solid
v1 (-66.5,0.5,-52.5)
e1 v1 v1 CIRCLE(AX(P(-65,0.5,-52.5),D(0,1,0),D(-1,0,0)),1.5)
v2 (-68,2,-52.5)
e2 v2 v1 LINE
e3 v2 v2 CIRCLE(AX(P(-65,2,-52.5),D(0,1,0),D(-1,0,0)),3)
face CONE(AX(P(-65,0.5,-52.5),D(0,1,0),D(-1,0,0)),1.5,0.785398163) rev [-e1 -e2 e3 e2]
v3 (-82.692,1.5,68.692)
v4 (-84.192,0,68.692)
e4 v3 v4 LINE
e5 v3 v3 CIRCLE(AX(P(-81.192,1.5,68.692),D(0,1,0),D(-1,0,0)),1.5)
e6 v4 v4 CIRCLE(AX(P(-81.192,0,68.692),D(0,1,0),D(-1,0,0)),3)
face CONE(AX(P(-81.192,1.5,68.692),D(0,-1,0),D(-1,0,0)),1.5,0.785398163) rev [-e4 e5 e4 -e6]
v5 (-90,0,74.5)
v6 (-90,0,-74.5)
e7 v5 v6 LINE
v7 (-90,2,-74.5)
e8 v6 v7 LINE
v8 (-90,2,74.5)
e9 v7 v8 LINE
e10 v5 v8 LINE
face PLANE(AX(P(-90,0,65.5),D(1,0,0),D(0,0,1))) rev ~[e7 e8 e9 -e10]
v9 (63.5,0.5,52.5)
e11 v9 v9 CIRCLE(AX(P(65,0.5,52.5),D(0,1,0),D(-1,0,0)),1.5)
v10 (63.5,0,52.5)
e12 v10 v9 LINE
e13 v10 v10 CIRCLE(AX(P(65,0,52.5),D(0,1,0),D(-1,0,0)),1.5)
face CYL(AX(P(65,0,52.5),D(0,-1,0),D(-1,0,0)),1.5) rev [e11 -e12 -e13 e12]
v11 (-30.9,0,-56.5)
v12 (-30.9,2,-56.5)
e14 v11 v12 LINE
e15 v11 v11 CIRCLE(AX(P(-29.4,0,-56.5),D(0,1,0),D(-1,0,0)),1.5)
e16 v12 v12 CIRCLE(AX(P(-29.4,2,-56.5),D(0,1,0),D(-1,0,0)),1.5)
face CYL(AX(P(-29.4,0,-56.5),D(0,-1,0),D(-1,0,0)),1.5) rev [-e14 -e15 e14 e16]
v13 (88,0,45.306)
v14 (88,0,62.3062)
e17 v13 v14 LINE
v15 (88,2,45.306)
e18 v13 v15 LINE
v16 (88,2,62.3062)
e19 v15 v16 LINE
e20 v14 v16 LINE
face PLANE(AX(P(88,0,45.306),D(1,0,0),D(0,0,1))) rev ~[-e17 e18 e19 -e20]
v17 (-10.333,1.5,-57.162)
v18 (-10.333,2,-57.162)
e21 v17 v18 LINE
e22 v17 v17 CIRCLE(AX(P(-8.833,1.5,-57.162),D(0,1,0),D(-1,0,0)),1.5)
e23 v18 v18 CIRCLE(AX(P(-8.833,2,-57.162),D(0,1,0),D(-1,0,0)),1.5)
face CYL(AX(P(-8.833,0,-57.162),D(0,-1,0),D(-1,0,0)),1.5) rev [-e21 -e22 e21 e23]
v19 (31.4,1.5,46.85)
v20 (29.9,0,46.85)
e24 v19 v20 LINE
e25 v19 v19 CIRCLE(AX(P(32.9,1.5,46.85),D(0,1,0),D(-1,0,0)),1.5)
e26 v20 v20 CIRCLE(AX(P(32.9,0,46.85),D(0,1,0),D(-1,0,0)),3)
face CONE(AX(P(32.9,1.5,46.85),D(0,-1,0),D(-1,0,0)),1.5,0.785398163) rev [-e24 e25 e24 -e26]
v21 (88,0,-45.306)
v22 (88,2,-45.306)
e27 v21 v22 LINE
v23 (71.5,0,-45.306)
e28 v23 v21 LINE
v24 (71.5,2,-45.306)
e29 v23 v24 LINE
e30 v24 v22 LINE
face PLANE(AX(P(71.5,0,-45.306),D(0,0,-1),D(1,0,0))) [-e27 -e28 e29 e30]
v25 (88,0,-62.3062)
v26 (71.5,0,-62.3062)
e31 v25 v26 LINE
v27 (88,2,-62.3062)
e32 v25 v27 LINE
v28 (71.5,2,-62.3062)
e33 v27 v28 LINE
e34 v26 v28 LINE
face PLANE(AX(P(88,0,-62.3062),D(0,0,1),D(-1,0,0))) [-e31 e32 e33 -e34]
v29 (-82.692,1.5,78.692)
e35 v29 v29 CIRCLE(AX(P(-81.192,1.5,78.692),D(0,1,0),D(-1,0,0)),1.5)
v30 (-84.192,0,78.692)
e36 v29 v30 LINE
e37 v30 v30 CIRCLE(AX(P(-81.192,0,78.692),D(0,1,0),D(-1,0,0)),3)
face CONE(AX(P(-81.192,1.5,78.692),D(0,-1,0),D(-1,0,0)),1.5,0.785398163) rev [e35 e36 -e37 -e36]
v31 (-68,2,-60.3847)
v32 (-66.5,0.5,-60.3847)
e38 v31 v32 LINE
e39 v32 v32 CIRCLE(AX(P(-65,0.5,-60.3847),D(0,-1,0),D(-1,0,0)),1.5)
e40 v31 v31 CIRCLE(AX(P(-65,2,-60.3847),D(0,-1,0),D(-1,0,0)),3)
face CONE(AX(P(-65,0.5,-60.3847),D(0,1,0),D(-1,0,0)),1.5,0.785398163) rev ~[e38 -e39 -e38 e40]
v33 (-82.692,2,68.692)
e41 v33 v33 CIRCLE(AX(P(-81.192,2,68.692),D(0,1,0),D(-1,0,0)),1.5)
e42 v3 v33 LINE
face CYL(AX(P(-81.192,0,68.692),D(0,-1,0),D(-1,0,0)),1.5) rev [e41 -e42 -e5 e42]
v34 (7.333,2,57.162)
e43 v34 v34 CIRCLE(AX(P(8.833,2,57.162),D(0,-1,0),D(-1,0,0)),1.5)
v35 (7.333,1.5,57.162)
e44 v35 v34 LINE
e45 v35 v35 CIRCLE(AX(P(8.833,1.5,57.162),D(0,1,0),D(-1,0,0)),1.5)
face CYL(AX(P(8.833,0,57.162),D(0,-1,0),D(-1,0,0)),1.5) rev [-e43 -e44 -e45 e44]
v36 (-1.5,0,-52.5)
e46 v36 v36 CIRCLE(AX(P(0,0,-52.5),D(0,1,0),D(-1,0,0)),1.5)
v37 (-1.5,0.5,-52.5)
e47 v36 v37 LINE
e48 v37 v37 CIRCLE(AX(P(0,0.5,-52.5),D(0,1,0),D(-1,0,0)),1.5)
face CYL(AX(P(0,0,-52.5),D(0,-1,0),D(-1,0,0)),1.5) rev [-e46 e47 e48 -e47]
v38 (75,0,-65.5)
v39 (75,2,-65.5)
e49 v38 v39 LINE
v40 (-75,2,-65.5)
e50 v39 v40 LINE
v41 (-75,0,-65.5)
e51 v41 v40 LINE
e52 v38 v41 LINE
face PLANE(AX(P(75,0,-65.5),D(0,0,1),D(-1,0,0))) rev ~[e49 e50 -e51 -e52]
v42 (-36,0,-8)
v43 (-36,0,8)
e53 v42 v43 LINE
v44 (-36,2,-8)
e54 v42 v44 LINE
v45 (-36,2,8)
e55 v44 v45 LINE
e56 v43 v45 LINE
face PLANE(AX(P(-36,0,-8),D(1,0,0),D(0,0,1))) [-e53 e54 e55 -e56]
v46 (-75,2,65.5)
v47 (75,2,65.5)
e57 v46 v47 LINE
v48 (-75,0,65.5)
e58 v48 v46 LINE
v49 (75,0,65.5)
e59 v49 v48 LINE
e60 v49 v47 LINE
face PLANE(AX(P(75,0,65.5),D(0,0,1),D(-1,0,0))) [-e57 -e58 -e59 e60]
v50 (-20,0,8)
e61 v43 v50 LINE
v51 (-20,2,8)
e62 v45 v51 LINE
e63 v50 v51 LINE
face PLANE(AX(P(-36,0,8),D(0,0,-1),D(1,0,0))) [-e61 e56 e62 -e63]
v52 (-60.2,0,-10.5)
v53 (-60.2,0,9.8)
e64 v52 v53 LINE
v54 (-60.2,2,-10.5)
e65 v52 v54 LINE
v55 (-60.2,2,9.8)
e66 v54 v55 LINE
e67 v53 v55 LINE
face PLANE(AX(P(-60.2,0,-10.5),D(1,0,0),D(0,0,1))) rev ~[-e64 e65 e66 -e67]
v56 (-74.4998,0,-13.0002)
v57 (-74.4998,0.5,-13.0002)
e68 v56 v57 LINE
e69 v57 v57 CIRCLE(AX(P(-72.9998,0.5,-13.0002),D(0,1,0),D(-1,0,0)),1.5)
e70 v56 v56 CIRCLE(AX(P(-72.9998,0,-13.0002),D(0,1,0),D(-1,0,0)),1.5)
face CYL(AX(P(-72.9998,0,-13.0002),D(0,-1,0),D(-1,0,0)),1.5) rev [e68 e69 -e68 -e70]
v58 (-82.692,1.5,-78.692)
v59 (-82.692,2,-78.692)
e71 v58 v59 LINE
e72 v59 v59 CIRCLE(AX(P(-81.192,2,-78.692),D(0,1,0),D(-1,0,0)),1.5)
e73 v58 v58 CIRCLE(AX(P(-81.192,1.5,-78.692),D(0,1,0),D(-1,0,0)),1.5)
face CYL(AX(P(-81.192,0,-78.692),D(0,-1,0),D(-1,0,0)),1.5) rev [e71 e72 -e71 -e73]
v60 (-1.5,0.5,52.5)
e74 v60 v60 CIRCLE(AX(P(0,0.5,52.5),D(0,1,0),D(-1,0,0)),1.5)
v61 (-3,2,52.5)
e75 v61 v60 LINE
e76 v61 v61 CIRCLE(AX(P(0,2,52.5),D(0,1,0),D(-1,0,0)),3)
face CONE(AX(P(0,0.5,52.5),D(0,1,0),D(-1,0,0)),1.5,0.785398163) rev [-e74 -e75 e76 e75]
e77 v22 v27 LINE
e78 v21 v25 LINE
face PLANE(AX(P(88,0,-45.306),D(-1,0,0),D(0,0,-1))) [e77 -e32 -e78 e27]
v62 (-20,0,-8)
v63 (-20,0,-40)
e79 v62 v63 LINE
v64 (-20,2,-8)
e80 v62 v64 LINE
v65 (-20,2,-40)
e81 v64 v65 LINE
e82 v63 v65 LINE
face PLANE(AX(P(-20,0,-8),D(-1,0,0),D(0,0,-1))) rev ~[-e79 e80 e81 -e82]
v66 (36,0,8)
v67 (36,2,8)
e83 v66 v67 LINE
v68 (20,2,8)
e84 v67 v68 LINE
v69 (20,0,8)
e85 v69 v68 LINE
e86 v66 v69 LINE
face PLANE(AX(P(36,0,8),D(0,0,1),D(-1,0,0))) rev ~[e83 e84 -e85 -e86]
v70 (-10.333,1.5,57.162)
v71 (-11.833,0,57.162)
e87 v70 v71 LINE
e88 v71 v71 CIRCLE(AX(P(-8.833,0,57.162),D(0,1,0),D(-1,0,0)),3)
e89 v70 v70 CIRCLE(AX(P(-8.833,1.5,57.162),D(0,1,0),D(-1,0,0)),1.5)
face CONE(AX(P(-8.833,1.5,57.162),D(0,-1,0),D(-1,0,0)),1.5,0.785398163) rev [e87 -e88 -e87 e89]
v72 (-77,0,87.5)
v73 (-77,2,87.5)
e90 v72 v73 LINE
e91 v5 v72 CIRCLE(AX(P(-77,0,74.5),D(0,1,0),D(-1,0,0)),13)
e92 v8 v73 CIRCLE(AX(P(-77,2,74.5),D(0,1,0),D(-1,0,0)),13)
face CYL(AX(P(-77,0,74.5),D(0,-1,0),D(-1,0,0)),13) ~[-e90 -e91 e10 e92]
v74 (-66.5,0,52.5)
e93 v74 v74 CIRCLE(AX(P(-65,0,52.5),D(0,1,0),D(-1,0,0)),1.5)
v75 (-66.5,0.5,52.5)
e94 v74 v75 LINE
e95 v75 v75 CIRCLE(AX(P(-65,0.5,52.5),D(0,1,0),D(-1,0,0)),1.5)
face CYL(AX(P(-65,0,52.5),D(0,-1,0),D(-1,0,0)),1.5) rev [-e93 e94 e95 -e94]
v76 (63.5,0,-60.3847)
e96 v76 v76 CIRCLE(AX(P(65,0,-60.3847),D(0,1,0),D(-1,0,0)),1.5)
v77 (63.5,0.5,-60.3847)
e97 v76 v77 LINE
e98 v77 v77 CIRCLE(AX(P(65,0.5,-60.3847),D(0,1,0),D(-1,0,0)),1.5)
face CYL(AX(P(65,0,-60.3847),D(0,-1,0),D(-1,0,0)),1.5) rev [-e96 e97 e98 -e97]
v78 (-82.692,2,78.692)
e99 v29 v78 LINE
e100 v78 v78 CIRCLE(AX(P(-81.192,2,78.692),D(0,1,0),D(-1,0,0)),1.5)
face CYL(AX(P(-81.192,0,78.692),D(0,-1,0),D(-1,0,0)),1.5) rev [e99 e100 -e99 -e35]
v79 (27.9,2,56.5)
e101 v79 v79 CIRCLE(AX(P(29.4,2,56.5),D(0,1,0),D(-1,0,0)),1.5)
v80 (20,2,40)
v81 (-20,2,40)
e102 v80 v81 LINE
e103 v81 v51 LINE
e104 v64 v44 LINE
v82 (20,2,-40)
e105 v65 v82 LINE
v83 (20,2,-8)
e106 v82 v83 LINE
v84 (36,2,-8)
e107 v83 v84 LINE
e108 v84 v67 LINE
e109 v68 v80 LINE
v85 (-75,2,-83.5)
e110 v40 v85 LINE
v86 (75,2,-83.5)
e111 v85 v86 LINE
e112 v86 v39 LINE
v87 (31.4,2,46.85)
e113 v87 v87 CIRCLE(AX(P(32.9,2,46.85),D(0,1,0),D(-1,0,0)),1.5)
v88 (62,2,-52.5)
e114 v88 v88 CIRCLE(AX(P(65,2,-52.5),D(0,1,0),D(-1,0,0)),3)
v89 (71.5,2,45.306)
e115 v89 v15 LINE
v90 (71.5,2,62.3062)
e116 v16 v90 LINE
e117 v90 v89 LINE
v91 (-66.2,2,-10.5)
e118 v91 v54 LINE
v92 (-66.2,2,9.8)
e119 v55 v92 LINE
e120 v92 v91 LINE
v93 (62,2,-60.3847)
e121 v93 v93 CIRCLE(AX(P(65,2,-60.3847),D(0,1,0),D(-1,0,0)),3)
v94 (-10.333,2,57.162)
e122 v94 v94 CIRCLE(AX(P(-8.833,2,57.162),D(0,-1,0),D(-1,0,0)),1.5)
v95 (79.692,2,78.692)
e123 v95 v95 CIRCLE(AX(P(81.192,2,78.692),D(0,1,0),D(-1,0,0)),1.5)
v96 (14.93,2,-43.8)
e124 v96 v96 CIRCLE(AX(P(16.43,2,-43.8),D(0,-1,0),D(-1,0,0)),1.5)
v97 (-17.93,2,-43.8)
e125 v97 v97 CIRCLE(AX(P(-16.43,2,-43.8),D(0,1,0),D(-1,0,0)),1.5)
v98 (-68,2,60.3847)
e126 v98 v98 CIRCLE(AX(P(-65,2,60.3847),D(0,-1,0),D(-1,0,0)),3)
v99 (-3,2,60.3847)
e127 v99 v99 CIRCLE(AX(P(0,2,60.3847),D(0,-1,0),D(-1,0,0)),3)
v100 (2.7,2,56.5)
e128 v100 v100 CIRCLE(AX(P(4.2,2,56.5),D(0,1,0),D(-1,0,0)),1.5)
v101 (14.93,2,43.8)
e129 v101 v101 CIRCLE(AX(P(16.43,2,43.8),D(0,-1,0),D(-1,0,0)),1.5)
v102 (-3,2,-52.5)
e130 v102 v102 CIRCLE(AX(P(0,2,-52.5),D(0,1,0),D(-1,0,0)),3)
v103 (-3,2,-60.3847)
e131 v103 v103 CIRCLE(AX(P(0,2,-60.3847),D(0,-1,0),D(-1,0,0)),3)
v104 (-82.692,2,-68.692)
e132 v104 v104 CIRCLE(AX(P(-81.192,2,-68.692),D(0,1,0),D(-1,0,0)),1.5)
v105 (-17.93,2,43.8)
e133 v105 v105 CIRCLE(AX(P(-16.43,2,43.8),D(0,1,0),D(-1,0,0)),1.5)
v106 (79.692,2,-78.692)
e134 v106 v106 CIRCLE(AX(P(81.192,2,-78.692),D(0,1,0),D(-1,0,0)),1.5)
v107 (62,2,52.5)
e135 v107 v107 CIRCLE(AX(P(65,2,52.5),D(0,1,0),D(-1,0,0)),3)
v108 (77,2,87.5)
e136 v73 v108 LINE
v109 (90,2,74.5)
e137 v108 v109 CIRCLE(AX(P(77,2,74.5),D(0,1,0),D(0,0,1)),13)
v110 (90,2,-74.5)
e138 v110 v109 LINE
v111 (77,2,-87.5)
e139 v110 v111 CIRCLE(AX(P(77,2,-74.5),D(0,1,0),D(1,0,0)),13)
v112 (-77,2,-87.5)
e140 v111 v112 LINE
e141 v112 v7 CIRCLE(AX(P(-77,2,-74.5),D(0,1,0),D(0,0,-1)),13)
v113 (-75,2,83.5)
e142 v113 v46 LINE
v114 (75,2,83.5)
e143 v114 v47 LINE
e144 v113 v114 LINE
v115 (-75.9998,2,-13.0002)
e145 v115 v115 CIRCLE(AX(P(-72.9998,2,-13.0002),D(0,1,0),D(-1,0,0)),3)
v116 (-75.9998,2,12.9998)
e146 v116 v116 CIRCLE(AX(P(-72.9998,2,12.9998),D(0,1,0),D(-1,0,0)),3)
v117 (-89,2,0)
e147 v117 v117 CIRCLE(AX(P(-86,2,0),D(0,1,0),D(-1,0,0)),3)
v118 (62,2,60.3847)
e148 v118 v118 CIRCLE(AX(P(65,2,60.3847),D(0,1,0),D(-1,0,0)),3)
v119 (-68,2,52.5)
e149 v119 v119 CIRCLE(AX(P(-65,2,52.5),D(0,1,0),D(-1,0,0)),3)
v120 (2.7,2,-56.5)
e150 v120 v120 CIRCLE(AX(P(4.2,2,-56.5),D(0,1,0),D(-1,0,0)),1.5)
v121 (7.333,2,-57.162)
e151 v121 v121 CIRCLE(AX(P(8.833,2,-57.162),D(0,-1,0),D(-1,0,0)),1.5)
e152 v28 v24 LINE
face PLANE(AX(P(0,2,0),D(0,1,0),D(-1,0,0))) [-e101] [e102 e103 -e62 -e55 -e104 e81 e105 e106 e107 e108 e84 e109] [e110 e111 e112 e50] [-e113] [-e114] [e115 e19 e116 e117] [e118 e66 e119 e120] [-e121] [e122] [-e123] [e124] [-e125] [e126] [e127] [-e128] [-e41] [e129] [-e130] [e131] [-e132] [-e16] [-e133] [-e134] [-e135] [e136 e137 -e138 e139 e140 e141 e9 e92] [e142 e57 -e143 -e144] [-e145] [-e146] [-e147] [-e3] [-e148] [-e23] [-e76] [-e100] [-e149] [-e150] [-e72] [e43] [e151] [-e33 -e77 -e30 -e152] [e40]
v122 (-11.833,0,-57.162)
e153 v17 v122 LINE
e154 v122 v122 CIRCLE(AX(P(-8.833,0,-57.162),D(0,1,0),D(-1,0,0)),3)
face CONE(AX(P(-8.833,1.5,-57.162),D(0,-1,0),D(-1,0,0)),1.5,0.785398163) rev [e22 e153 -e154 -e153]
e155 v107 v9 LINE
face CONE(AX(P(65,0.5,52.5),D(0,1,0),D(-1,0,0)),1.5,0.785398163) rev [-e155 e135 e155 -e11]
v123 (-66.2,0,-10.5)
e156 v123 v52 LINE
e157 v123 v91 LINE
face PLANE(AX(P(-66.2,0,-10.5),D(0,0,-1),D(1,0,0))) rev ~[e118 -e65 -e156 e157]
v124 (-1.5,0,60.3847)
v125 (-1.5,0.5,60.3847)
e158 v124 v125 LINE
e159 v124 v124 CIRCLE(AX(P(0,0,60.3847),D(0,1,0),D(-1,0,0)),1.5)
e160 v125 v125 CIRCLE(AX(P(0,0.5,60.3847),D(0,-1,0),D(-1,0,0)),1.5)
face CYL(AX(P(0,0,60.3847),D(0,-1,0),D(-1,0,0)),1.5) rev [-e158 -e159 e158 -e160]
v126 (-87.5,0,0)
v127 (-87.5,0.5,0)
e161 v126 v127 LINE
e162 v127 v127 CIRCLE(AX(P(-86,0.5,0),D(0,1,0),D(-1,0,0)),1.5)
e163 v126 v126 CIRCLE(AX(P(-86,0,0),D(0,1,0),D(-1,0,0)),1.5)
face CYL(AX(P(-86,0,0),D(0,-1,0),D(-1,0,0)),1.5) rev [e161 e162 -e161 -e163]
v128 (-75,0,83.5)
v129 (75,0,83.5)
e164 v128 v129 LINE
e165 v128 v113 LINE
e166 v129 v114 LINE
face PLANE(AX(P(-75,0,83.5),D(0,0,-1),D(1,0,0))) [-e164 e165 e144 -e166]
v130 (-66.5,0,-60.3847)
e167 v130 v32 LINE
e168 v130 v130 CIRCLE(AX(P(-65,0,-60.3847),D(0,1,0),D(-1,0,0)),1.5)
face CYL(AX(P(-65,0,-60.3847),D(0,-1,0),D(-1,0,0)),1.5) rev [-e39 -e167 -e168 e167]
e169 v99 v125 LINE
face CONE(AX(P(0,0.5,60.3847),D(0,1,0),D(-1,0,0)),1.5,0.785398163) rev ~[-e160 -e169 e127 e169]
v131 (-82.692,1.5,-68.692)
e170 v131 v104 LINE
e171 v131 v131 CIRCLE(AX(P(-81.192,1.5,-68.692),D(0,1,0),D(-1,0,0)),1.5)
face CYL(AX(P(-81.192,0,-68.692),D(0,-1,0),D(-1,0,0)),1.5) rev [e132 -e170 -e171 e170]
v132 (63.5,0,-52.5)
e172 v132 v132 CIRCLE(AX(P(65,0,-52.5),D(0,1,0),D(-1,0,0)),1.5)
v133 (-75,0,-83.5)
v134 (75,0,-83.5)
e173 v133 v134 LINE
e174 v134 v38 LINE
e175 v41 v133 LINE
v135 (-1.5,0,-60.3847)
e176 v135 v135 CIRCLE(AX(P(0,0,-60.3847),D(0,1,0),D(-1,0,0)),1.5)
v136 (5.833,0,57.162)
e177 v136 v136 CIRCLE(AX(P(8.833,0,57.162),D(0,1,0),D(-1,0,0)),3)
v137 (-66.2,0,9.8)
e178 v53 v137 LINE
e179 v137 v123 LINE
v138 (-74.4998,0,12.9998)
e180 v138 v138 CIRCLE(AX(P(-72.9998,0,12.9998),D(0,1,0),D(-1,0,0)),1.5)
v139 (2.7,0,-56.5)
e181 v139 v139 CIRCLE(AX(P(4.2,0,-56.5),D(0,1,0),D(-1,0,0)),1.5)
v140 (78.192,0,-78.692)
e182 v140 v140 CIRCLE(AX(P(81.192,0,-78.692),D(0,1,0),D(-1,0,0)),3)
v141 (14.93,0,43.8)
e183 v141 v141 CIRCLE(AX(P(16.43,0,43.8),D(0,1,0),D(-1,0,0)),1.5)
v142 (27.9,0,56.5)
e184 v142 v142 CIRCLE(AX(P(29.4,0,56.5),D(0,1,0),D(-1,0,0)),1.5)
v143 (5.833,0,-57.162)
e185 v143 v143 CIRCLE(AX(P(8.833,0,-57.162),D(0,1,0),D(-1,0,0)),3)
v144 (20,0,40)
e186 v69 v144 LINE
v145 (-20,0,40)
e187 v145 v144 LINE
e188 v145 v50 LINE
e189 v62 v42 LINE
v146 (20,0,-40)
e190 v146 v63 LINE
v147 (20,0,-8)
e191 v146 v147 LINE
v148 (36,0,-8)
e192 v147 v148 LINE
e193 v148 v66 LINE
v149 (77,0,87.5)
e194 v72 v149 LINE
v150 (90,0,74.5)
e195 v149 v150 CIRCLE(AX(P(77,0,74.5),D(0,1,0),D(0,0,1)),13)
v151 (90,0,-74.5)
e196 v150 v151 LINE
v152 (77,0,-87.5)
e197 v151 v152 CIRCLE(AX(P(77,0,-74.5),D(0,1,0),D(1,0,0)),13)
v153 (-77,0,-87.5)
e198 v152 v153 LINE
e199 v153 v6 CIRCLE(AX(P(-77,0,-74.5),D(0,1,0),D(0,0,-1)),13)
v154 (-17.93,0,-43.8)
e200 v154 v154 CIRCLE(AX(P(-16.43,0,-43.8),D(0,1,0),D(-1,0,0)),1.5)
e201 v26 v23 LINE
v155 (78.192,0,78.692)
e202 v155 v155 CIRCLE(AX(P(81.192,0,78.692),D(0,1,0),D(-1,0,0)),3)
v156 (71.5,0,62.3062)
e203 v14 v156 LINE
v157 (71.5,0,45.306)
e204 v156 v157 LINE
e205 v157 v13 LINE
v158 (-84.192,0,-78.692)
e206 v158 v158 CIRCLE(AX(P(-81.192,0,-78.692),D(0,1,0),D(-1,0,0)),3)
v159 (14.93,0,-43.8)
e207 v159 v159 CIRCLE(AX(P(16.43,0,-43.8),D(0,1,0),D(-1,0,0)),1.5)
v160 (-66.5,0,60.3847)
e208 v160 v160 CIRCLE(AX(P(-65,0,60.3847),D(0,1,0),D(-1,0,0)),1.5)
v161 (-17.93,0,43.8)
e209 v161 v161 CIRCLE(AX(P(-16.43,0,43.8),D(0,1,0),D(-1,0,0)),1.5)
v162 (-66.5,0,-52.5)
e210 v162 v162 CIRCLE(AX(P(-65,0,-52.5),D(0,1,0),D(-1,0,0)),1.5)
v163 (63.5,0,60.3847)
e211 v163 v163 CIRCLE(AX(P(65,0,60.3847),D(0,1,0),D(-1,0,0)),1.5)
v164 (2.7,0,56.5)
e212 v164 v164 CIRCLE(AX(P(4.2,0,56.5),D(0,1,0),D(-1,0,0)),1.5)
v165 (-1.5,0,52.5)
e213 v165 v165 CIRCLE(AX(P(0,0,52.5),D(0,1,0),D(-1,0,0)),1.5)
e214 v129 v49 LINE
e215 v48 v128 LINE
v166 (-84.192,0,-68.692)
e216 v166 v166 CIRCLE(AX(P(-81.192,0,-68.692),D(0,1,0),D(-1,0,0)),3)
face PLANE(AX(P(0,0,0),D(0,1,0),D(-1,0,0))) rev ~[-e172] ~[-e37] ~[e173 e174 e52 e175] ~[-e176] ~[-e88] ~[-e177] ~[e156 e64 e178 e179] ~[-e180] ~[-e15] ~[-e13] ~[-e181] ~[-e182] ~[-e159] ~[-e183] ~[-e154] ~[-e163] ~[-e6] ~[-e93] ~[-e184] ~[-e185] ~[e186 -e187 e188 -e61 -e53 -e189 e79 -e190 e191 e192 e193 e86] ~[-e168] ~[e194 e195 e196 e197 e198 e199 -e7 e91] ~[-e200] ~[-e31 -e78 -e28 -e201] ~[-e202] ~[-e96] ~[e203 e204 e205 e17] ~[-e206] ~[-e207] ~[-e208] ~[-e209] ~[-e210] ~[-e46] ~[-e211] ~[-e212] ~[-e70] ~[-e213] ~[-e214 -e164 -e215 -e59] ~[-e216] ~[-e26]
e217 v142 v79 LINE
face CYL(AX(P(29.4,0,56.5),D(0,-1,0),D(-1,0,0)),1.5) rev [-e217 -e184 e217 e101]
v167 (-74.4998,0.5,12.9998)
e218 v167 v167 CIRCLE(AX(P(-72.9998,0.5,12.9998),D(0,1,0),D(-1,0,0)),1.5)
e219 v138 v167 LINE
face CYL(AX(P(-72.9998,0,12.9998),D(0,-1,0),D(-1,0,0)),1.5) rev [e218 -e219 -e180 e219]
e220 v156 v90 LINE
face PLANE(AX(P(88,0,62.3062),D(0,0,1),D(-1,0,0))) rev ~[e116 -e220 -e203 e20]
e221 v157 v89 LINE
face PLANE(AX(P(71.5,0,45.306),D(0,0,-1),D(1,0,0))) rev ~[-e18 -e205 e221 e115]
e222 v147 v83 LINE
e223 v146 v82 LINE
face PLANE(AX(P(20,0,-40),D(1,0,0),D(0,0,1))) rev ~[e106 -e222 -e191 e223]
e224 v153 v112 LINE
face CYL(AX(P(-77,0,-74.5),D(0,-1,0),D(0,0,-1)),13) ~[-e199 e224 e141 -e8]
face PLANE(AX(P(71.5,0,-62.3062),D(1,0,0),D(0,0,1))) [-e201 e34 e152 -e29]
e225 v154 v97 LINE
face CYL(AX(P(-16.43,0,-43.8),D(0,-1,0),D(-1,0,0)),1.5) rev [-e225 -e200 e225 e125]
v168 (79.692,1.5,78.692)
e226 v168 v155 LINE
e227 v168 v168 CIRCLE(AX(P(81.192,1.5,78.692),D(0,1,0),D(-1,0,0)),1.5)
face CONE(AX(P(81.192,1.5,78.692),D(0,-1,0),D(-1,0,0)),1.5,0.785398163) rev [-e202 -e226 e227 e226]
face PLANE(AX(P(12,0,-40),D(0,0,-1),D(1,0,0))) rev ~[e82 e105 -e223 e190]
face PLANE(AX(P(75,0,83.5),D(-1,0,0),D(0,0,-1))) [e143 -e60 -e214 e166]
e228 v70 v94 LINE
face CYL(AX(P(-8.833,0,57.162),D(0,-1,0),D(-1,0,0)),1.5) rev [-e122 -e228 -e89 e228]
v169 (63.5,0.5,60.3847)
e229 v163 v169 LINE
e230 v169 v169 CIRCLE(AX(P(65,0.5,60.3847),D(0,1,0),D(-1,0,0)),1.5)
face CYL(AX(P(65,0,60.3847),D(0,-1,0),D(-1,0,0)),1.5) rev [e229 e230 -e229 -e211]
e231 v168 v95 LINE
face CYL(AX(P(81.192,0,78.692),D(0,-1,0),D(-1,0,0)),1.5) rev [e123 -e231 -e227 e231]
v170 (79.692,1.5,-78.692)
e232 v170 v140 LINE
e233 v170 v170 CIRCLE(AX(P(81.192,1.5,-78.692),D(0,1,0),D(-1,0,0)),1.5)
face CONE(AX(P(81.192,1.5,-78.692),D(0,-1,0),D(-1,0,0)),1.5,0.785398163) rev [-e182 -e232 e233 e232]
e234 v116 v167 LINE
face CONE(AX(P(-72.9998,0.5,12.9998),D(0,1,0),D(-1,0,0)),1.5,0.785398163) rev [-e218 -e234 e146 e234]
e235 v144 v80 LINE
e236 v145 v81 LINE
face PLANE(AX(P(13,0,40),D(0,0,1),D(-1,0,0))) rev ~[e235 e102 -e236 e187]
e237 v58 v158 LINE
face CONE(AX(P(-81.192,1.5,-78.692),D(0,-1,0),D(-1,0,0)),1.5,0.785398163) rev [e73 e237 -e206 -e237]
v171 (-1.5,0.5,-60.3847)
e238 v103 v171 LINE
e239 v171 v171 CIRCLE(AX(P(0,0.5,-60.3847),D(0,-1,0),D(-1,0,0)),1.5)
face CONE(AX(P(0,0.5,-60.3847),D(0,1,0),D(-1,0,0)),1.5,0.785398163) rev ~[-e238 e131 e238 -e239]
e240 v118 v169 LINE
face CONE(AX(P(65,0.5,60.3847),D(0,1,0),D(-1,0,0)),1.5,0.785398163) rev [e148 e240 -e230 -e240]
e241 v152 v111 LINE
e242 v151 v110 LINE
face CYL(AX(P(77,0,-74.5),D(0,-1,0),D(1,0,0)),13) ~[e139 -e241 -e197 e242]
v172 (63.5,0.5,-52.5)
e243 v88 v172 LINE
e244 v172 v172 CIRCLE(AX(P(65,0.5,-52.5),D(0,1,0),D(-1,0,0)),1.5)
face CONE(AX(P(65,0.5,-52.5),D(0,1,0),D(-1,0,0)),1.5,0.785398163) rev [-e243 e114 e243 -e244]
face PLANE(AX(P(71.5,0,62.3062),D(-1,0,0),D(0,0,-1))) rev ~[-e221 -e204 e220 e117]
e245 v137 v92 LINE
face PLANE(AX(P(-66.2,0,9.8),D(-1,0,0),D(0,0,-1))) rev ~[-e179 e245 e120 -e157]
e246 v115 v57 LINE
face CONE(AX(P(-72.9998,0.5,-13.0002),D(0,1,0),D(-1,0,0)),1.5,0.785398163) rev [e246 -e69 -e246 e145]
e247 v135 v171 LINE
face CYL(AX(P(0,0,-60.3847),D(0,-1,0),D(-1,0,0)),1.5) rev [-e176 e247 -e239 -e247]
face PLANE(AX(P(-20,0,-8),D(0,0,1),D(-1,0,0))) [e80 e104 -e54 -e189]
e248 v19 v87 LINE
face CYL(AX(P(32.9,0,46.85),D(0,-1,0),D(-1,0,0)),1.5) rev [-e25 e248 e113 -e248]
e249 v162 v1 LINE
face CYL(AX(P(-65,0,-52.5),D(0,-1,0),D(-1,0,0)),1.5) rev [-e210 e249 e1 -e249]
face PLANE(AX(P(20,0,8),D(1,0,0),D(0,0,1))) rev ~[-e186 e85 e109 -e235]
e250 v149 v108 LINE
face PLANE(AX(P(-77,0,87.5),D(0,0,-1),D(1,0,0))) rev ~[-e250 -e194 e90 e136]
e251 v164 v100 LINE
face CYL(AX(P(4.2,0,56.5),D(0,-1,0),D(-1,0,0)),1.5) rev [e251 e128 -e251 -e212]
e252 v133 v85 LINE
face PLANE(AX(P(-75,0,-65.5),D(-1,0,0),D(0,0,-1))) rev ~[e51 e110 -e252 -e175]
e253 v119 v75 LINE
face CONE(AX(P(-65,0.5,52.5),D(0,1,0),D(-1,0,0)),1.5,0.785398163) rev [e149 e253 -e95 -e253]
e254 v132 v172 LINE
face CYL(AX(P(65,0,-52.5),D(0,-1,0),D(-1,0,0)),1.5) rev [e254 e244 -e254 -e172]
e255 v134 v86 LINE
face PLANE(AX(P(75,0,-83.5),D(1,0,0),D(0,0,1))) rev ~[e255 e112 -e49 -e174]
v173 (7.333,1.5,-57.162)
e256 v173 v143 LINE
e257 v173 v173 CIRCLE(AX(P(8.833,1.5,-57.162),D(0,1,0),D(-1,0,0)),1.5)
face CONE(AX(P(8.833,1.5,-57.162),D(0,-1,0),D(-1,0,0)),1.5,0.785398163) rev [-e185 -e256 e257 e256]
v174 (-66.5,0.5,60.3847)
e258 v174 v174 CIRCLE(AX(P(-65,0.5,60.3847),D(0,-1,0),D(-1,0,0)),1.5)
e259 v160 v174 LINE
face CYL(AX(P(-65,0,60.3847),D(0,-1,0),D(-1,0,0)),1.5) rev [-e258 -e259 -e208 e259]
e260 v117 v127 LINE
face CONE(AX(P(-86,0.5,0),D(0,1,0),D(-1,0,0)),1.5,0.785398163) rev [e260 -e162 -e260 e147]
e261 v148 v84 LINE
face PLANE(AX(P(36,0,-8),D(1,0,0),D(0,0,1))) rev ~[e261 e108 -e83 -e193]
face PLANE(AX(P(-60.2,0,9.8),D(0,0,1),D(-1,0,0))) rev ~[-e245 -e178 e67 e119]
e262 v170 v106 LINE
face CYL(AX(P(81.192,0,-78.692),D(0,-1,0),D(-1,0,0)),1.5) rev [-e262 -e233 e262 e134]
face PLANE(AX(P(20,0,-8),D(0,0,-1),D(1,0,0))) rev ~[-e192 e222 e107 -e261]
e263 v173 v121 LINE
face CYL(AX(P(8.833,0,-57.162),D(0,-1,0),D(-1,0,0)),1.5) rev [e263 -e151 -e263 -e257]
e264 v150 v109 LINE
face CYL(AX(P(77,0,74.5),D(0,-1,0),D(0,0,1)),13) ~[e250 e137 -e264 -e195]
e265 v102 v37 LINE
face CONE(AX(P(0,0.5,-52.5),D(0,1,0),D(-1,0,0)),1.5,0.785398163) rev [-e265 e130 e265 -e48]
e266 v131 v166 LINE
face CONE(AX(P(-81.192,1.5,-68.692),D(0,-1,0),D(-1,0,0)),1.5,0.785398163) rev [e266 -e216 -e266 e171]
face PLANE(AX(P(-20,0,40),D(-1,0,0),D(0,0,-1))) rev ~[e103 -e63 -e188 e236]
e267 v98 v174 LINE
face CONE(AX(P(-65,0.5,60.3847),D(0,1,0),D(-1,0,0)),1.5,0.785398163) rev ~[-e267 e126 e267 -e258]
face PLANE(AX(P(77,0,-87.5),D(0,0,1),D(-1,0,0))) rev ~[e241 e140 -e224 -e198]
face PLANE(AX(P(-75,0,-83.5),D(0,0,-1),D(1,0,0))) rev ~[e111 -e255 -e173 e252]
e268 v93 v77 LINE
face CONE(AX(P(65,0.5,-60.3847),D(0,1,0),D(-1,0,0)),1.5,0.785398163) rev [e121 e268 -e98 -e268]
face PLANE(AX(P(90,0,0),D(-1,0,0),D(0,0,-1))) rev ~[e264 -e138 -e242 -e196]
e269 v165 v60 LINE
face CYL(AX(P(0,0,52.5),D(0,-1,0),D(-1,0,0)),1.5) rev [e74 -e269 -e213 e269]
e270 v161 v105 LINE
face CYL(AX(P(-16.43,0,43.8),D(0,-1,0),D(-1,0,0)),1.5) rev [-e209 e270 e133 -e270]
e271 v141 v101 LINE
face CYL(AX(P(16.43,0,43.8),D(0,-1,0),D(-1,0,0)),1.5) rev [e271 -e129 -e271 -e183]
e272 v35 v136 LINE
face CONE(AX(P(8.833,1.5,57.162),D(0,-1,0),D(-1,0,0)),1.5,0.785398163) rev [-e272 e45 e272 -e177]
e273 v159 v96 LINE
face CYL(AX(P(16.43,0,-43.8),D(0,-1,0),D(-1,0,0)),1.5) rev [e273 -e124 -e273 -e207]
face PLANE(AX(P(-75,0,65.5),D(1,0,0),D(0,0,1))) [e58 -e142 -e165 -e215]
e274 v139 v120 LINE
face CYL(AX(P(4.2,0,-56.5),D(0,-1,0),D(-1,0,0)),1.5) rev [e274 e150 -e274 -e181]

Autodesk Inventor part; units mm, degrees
ref_plane "YZ Plane" through (0, 0, 0) normal (1, 0, 0) x (0, 1, 0)
ref_plane "XZ Plane" through (0, 0, 0) normal (0, 1, 0) x (-1, 0, 0)
ref_plane "XY Plane" through (0, 0, 0) normal (0, 0, 1) x (1, 0, 0)
sketch "Эскиз1" plane through (0, 0, 0) normal (0, 1, 0) x (-1, 0, 0)
  line L0 (-77, -87.5) -> (77, -87.5)
  line L1 (90, -74.5) -> (90, 74.5)
  line L2 (77, 87.5) -> (-77, 87.5)
  line L3 (-90, 74.5) -> (-90, -74.5)
  line L4 (90, 0) -> (-90, 0) construction
  line L5 (0, -87.5) -> (0, 87.5) construction
  arc A0 (90, 74.5) -> (77, 87.5) centre (77, 74.5) ccw
  arc A1 (77, -87.5) -> (90, -74.5) centre (77, -74.5) ccw
  arc A2 (-90, -74.5) -> (-77, -87.5) centre (-77, -74.5) ccw
  arc A3 (-77, 87.5) -> (-90, 74.5) centre (-77, 74.5) ccw
  line L6 (75, 83.5) -> (-75, 83.5)
  line L7 (-75, 83.5) -> (-75, 65.5)
  line L8 (-75, 65.5) -> (75, 65.5)
  line L9 (75, 65.5) -> (75, 83.5)
  line L10 (0, 87.5) -> (0, -87.5) construction
  line L11 (75, -83.5) -> (-75, -83.5)
  line L12 (-75, -83.5) -> (-75, -65.5)
  line L13 (-75, -65.5) -> (75, -65.5)
  line L14 (75, -65.5) -> (75, -83.5)
  line L15 (90, 49.8397) -> (90, 20.3597)
  line L16 (0, 65.5) -> (42, 65.5)
  line L17 (90, -32.9125) -> (90, 38.6688)
  line L18 (68, 60) -> (-12, 60)
  line L19 (-12, 60) -> (-12, -60)
  line L20 (-12, -60) -> (68, -60)
  line L21 (68, -60) -> (68, 60)
  line L22 (60, 60) -> (57.2, 60)
  line L23 (60, 57.2) -> (60, 60)
  circle A4 centre (65.2, 57.2) radius 1.5
  line L24 (20, 60) -> (20, -60) construction
  circle A5 centre (65.2, -57.2) radius 1.5
  circle A6 centre (-9.2, 57.2) radius 1.5
  circle A7 centre (-9.2, -57.2) radius 1.5
  line L25 (-20, 0) -> (-25, 0) construction
  line L26 (-25, 0) -> (-81, 0) construction
  line L27 (-13, 42.5) -> (-69, 42.5)
  line L28 (-69, 42.5) -> (-69, -42.5)
  line L29 (-69, -42.5) -> (-13, -42.5)
  line L30 (-13, -42.5) -> (-13, 42.5)
  line L31 (-25, 42.5) -> (-28.7, 42.5)
  line L32 (-25, 38.8) -> (-25, 42.5)
  circle A8 centre (-16.7, 38.8) radius 1.5
  line L33 (-53, 42.5) -> (-53, -42.5) construction
  line L34 (-25, 0) -> (-81, 0) construction
  line L35 (-16.7, 38.8) -> (-16.7, -19.2) construction
  circle A9 centre (-16.7, -19.2) radius 1.5
  circle A10 centre (-65.3, 38.8) radius 1.5
  circle A11 centre (-65.3, -19.2) radius 1.5
  line L36 (90, 60.5) -> (90, 65.5)
  circle A12 centre (65, 60.3847) radius 1.5
  circle A13 centre (65, 52.5) radius 1.5
  line L37 (32.5, 60.3847) -> (32.5, -60) construction
  circle A14 centre (0, 60.3847) radius 1.5
  circle A15 centre (0, 52.5) radius 1.5
  circle A16 centre (-65, 60.3847) radius 1.5
  circle A17 centre (-65, 52.5) radius 1.5
  circle A18 centre (65, -60.3847) radius 1.5
  circle A19 centre (65, -52.5) radius 1.5
  circle A20 centre (0, -60.3847) radius 1.5
  circle A21 centre (0, -52.5) radius 1.5
  circle A22 centre (-65, -60.3847) radius 1.5
  circle A23 centre (-65, -52.5) radius 1.5
  circle A24 centre (86, 0) radius 1.5
  line L38 (86, 0) -> (104.385, 0) construction
  circle A25 centre (72.9998, -13.0002) radius 1.5
  circle A26 centre (72.9998, 12.9998) radius 1.5
  line L39 (90, -19.2) -> (75, -19.2)
  line L40 (75, -19.2) -> (75, 22.1472)
  line L41 (75, 22.1472) -> (90, 22.1472)
  line L42 (90, 22.1472) -> (90, -19.2)
  line L43 (-90, 8.1057) -> (-90, 0)
  line L44 (0, 0) -> (-12, 0)
  line L45 (-12, 5.1924) -> (-12, 5.1924)
  line L46 (75, 78.692) -> (75, 65.5)
  circle A27 centre (81.192, 78.692) radius 1.5
  circle A28 centre (81.192, -78.692) radius 1.5
  circle A29 centre (81.192, 68.692) radius 1.5
  circle A30 centre (81.192, -68.692) radius 1.5
  line L47 (66.2, 9.8) -> (66.2, -10.5)
  line L48 (66.2, -10.5) -> (60.2, -10.5)
  line L49 (60.2, -10.5) -> (60.2, 9.8)
  line L50 (60.2, 9.8) -> (66.2, 9.8)
  circle A31 centre (-81.192, -78.692) radius 1.5
  circle A32 centre (-81.192, 78.692) radius 1.5
  line L51 (0, 0) -> (-71.5, 0) construction
  line L52 (-71.5, 0) -> (-71.5, 45.306) construction
  line L53 (-71.5, 45.306) -> (0, 45.306) construction
  line L54 (0, 45.306) -> (0, 0) construction
  line L55 (-71.5, 45.306) -> (-88, 45.306)
  line L56 (-88, 45.306) -> (-88, 62.3062)
  line L57 (-88, 62.3062) -> (-71.5, 62.3062)
  line L58 (-71.5, 62.3062) -> (-71.5, 45.306)
  line L59 (-71.5, -45.306) -> (-88, -45.306)
  line L60 (-88, -45.306) -> (-88, -62.3062)
  line L61 (-88, -62.3062) -> (-71.5, -62.3062)
  line L62 (-71.5, -62.3062) -> (-71.5, -45.306)
  line L63 (20, -40) -> (-20, -40)
  line L64 (-20, -40) -> (-20, 40)
  line L65 (-20, 40) -> (20, 40)
  line L66 (20, 40) -> (20, -40)
  line L67 (20, 0) -> (-20, 0) construction
  line L68 (0, -40) -> (0, 40) construction
  line L69 (0, 65.5) -> (-4.2, 65.5) construction
  line L70 (-4.2, 65.5) -> (-4.2, 56.5) construction
  line L71 (-4.2, 56.5) -> (0, 56.5) construction
  line L72 (0, 56.5) -> (0, 65.5) construction
  circle A33 centre (-4.2, 56.5) radius 1.5
  line L73 (0, 65.5) -> (-29.4, 65.5) construction
  line L74 (-29.4, 65.5) -> (-29.4, 56.5) construction
  line L75 (-29.4, 56.5) -> (0, 56.5) construction
  line L76 (0, 56.5) -> (0, 65.5) construction
  circle A34 centre (-29.4, 56.5) radius 1.5
  circle A35 centre (-4.2, -56.5) radius 1.5
  circle A36 centre (29.4, -56.5) radius 1.5
  line L77 (0, 60.3847) -> (8.833, 60.3847)
  line L78 (8.833, 60.3847) -> (8.833, 57.162)
  line L79 (8.833, 57.162) -> (0, 57.162)
  line L80 (0, 57.162) -> (0, 60.3847)
  circle A37 centre (8.833, 57.162) radius 1.5
  circle A38 centre (-8.833, 57.162) radius 1.5
  circle A39 centre (8.833, -57.162) radius 1.5
  circle A40 centre (-8.833, -57.162) radius 1.5
  line L81 (-20, 0) -> (-20, -8)
  line L82 (-20, -8) -> (-36, -8)
  line L83 (-36, -8) -> (-36, 8)
  line L84 (-36, 8) -> (-20, 8)
  line L85 (-20, 8) -> (-20, -8)
  line L86 (20, -8) -> (36, -8)
  line L87 (36, -8) -> (36, 8)
  line L88 (36, 8) -> (20, 8)
  line L89 (20, 8) -> (20, -8)
  line L90 (0, 0) -> (16.43, 0) construction
  line L91 (16.43, 0) -> (16.43, 43.8) construction
  line L92 (16.43, 43.8) -> (0, 43.8) construction
  line L93 (0, 43.8) -> (0, 0) construction
  circle A41 centre (16.43, 43.8) radius 1.5
  circle A42 centre (-16.43, 43.8) radius 1.5
  circle A43 centre (16.43, -43.8) radius 1.5
  circle A44 centre (-16.43, -43.8) radius 1.5
  line L94 (0, 0) -> (-32.9, 0) construction
  line L95 (-32.9, 0) -> (-32.9, 46.85) construction
  line L96 (-32.9, 46.85) -> (0, 46.85) construction
  line L97 (0, 46.85) -> (0, 0) construction
  circle A45 centre (-32.9, 46.85) radius 1.5
  point P0 (90, 87.5)
  point P1 (90, -87.5)
  point P2 (-90, 87.5)
  point P3 (-77, -74.5)
  point P4 (60, 0)
  point P5 (75, 0)
  point P6 (60, 0)
  point P7 (-60, 0)
  point P8 (-4, 0)
  point P9 (-5, 0)
  point P10 (-15, 0)
  point P11 (-70, 0)
  point P12 (-14, 0)
  point P13 (-28.7, -19.2)
  point P14 (-17.7, -19.2)
  point P15 (-13, 0)
  point P16 (-14, 0)
  point P17 (-17.6, 40)
  point P18 (-15.8, 40)
  dimension "d0" = 180
  dimension "d1" = 175
  dimension "d2" = 13
  dimension "d7" = 150
  dimension "d8" = 18
  dimension "d13" = 80
  dimension "d14" = 120
  dimension "d21" = 56
  dimension "d22" = 85
  dimension "d25" = 3
  dimension "d26" = 58
  dimension "d27" = 3
  dimension "d30" = 3
  dimension "d32" = 3
  dimension "d33" = 32.5
  dimension "d54" = 3
  dimension "d58" = 3
  dimension "d59" = 3
  dimension "d60" = 15
  dimension "d62" = 12
  dimension "d68" = 3
  dimension "d70" = 3
  dimension "d72" = 20.3
  dimension "d73" = 6
  dimension "d76" = 3
  dimension "d77" = 71.5
  dimension "d78" = 45.306
  dimension "d79" = 40
  dimension "d80" = 80
  dimension "d81" = 4.2
  dimension "d82" = 9
  dimension "d83" = 3
  dimension "d84" = 29.4
  dimension "d85" = 9
  dimension "d86" = 3
  dimension "d87" = 3
  dimension "d88" = 8
  dimension "d89" = 16
  dimension "d90" = 16
  dimension "d91" = 16.43
  dimension "d92" = 43.8
  dimension "d93" = 3
  dimension "d94" = 3
sketch "Эскиз2" plane through (0, 0, 0) normal (0, 1, 0) x (-1, 0, 0)
  line L0 (77, 87.5) -> (-77, 87.5)
  line L1 (-90, 74.5) -> (-90, -74.5)
  line L2 (-77, -87.5) -> (77, -87.5)
  line L3 (90, -74.5) -> (90, 74.5)
  line L4 (90, 0) -> (-90, 0) construction
  line L5 (0, 87.5) -> (0, -87.5) construction
  arc A0 (90, 74.5) -> (77, 87.5) centre (77, 74.5) ccw
  arc A1 (-77, 87.5) -> (-90, 74.5) centre (-77, 74.5) ccw
  arc A2 (-90, -74.5) -> (-77, -87.5) centre (-77, -74.5) ccw
  arc A3 (77, -87.5) -> (90, -74.5) centre (77, -74.5) ccw
  line L6 (150, -150) -> (-150, -150)
  line L7 (-150, -150) -> (-150, 150)
  line L8 (-150, 150) -> (150, 150)
  line L9 (150, 150) -> (150, -150)
  line L10 (150, 0) -> (-150, 0) construction
  line L11 (0, -150) -> (0, 150) construction
  circle A4 centre (0, 0) radius 150
  line L12 (75, -74.5) -> (75, -83.5)
  line L13 (75, -83.5) -> (-75, -83.5)
  line L14 (-75, -83.5) -> (-75, -65.5)
  line L15 (-75, -65.5) -> (75, -65.5)
  line L16 (75, -65.5) -> (75, -83.5)
  line L17 (75, 74.5) -> (75, 83.5)
  line L18 (75, 83.5) -> (-75, 83.5)
  line L19 (-75, 83.5) -> (-75, 65.5)
  line L20 (-75, 65.5) -> (75, 65.5)
  line L21 (75, 65.5) -> (75, 83.5)
  line L22 (0, -65.5) -> (42, -65.5)
  line L23 (42, -65.5) -> (77, -65.5)
  line L24 (77, -65.5) -> (77, -82.3082)
  line L25 (77, -82.3082) -> (42, -82.3082)
  line L26 (77, -65.5) -> (7, -65.5)
  line L27 (7, -65.5) -> (7, -82.3082)
  line L28 (7, -82.3082) -> (77, -82.3082)
  line L29 (77, -82.3082) -> (77, -65.5)
  line L30 (-42, -65.5) -> (-77, -65.5)
  line L31 (-77, -65.5) -> (-77, -82.3082)
  line L32 (-7, -65.5) -> (-7, -82.3082)
  line L33 (-7, -82.3082) -> (-77, -82.3082)
  line L34 (42, -65.5) -> (29.5, -65.5)
  line L35 (29.5, -10.5) -> (54.5, -10.5)
  line L36 (54.5, -10.5) -> (54.5, -65.5)
  line L37 (54.5, -65.5) -> (29.5, -65.5)
  line L38 (29.5, -65.5) -> (29.5, -10.5)
  line L39 (29.5, 10.5) -> (54.5, 10.5)
  line L40 (54.5, 10.5) -> (54.5, 65.5)
  line L41 (29.5, 65.5) -> (29.5, 10.5)
  line L42 (-29.5, -10.5) -> (-54.5, -10.5)
  line L43 (-54.5, -10.5) -> (-54.5, -65.5)
  line L44 (-29.5, -65.5) -> (-29.5, -10.5)
  line L45 (-29.5, 65.5) -> (-29.5, 10.5)
  line L46 (-29.5, 10.5) -> (-54.5, 10.5)
  line L47 (-54.5, 10.5) -> (-54.5, 65.5)
  point P0 (0, 0)
  point P1 (-90, -87.5)
  point P2 (-90, 87.5)
  point P3 (90, -87.5)
  point P4 (-80.411, -84.4848)
  point P5 (77, 74.5)
  point P6 (-7, -73.9041)
  point P7 (7, -73.9041)
  dimension "d34" = 180
  dimension "d35" = 175
  dimension "d36" = 13
  dimension "d37" = 300
  dimension "d38" = 300
  dimension "d41" = 150
  dimension "d42" = 18
  dimension "d44" = 35
  dimension "d45" = 70
  dimension "d46" = 14
  dimension "d47" = 84
  dimension "d50" = 25
extrude "Выдавливание1" add sketch "Эскиз1" along normal blind 2 contours A2 L3 A3 L2 A0 L1 L41 L40 L39 A1 L0 | L39 L40 L41 L1 | L18 A12 L21 L20 A18 A20 L19 L63 L66 L86 L87 L88 L65 A14 L80 L79 A37 L78 | L78 A37 L79 L80 A14 L18 | L18 A14 L77 L78 | L65 A8 L64 L84 L83 L82 L63 L30 L29 A44 L28 L27 A42 | L65 A8 | A4 | A5 | A38 A6 | A40 A7 | A10 | A11 picked at (-16.908, 40.0547) picked at (-10.5675, 57.2211) picked at (-10.5675, -57.2211)
chamfer "Фаска1" distance 1.5 angle 45 3 edges at (-84.5, 2, 0) (-71.4998, 2, -13.0002) (-71.4998, 2, 12.9998)
chamfer "Фаска2" distance 1.5 angle 45 23 edges at (-79.692, 0, 78.692) (-79.692, 0, 68.692) (-79.692, 0, -78.692) (-79.692, 0, -68.692) (-63.5, 2, 60.3847) (-63.5, 2, 52.5) (1.5, 2, 60.3847) (1.5, 2, 52.5) (66.5, 2, 52.5) (66.5, 2, 60.3847) (66.5, 2, -60.3847) (66.5, 2, -52.5) (1.5, 2, -52.5) (1.5, 2, -60.3847) (-63.5, 2, -60.3847) (-63.5, 2, -52.5) (-7.333, 0, -57.162) (10.333, 0, -57.162) (-7.333, 0, 57.162) (10.333, 0, 57.162) (82.692, 0, 78.692) (82.692, 0, -78.692) (34.4, 0, 46.85)
properties part number "base_ls"
